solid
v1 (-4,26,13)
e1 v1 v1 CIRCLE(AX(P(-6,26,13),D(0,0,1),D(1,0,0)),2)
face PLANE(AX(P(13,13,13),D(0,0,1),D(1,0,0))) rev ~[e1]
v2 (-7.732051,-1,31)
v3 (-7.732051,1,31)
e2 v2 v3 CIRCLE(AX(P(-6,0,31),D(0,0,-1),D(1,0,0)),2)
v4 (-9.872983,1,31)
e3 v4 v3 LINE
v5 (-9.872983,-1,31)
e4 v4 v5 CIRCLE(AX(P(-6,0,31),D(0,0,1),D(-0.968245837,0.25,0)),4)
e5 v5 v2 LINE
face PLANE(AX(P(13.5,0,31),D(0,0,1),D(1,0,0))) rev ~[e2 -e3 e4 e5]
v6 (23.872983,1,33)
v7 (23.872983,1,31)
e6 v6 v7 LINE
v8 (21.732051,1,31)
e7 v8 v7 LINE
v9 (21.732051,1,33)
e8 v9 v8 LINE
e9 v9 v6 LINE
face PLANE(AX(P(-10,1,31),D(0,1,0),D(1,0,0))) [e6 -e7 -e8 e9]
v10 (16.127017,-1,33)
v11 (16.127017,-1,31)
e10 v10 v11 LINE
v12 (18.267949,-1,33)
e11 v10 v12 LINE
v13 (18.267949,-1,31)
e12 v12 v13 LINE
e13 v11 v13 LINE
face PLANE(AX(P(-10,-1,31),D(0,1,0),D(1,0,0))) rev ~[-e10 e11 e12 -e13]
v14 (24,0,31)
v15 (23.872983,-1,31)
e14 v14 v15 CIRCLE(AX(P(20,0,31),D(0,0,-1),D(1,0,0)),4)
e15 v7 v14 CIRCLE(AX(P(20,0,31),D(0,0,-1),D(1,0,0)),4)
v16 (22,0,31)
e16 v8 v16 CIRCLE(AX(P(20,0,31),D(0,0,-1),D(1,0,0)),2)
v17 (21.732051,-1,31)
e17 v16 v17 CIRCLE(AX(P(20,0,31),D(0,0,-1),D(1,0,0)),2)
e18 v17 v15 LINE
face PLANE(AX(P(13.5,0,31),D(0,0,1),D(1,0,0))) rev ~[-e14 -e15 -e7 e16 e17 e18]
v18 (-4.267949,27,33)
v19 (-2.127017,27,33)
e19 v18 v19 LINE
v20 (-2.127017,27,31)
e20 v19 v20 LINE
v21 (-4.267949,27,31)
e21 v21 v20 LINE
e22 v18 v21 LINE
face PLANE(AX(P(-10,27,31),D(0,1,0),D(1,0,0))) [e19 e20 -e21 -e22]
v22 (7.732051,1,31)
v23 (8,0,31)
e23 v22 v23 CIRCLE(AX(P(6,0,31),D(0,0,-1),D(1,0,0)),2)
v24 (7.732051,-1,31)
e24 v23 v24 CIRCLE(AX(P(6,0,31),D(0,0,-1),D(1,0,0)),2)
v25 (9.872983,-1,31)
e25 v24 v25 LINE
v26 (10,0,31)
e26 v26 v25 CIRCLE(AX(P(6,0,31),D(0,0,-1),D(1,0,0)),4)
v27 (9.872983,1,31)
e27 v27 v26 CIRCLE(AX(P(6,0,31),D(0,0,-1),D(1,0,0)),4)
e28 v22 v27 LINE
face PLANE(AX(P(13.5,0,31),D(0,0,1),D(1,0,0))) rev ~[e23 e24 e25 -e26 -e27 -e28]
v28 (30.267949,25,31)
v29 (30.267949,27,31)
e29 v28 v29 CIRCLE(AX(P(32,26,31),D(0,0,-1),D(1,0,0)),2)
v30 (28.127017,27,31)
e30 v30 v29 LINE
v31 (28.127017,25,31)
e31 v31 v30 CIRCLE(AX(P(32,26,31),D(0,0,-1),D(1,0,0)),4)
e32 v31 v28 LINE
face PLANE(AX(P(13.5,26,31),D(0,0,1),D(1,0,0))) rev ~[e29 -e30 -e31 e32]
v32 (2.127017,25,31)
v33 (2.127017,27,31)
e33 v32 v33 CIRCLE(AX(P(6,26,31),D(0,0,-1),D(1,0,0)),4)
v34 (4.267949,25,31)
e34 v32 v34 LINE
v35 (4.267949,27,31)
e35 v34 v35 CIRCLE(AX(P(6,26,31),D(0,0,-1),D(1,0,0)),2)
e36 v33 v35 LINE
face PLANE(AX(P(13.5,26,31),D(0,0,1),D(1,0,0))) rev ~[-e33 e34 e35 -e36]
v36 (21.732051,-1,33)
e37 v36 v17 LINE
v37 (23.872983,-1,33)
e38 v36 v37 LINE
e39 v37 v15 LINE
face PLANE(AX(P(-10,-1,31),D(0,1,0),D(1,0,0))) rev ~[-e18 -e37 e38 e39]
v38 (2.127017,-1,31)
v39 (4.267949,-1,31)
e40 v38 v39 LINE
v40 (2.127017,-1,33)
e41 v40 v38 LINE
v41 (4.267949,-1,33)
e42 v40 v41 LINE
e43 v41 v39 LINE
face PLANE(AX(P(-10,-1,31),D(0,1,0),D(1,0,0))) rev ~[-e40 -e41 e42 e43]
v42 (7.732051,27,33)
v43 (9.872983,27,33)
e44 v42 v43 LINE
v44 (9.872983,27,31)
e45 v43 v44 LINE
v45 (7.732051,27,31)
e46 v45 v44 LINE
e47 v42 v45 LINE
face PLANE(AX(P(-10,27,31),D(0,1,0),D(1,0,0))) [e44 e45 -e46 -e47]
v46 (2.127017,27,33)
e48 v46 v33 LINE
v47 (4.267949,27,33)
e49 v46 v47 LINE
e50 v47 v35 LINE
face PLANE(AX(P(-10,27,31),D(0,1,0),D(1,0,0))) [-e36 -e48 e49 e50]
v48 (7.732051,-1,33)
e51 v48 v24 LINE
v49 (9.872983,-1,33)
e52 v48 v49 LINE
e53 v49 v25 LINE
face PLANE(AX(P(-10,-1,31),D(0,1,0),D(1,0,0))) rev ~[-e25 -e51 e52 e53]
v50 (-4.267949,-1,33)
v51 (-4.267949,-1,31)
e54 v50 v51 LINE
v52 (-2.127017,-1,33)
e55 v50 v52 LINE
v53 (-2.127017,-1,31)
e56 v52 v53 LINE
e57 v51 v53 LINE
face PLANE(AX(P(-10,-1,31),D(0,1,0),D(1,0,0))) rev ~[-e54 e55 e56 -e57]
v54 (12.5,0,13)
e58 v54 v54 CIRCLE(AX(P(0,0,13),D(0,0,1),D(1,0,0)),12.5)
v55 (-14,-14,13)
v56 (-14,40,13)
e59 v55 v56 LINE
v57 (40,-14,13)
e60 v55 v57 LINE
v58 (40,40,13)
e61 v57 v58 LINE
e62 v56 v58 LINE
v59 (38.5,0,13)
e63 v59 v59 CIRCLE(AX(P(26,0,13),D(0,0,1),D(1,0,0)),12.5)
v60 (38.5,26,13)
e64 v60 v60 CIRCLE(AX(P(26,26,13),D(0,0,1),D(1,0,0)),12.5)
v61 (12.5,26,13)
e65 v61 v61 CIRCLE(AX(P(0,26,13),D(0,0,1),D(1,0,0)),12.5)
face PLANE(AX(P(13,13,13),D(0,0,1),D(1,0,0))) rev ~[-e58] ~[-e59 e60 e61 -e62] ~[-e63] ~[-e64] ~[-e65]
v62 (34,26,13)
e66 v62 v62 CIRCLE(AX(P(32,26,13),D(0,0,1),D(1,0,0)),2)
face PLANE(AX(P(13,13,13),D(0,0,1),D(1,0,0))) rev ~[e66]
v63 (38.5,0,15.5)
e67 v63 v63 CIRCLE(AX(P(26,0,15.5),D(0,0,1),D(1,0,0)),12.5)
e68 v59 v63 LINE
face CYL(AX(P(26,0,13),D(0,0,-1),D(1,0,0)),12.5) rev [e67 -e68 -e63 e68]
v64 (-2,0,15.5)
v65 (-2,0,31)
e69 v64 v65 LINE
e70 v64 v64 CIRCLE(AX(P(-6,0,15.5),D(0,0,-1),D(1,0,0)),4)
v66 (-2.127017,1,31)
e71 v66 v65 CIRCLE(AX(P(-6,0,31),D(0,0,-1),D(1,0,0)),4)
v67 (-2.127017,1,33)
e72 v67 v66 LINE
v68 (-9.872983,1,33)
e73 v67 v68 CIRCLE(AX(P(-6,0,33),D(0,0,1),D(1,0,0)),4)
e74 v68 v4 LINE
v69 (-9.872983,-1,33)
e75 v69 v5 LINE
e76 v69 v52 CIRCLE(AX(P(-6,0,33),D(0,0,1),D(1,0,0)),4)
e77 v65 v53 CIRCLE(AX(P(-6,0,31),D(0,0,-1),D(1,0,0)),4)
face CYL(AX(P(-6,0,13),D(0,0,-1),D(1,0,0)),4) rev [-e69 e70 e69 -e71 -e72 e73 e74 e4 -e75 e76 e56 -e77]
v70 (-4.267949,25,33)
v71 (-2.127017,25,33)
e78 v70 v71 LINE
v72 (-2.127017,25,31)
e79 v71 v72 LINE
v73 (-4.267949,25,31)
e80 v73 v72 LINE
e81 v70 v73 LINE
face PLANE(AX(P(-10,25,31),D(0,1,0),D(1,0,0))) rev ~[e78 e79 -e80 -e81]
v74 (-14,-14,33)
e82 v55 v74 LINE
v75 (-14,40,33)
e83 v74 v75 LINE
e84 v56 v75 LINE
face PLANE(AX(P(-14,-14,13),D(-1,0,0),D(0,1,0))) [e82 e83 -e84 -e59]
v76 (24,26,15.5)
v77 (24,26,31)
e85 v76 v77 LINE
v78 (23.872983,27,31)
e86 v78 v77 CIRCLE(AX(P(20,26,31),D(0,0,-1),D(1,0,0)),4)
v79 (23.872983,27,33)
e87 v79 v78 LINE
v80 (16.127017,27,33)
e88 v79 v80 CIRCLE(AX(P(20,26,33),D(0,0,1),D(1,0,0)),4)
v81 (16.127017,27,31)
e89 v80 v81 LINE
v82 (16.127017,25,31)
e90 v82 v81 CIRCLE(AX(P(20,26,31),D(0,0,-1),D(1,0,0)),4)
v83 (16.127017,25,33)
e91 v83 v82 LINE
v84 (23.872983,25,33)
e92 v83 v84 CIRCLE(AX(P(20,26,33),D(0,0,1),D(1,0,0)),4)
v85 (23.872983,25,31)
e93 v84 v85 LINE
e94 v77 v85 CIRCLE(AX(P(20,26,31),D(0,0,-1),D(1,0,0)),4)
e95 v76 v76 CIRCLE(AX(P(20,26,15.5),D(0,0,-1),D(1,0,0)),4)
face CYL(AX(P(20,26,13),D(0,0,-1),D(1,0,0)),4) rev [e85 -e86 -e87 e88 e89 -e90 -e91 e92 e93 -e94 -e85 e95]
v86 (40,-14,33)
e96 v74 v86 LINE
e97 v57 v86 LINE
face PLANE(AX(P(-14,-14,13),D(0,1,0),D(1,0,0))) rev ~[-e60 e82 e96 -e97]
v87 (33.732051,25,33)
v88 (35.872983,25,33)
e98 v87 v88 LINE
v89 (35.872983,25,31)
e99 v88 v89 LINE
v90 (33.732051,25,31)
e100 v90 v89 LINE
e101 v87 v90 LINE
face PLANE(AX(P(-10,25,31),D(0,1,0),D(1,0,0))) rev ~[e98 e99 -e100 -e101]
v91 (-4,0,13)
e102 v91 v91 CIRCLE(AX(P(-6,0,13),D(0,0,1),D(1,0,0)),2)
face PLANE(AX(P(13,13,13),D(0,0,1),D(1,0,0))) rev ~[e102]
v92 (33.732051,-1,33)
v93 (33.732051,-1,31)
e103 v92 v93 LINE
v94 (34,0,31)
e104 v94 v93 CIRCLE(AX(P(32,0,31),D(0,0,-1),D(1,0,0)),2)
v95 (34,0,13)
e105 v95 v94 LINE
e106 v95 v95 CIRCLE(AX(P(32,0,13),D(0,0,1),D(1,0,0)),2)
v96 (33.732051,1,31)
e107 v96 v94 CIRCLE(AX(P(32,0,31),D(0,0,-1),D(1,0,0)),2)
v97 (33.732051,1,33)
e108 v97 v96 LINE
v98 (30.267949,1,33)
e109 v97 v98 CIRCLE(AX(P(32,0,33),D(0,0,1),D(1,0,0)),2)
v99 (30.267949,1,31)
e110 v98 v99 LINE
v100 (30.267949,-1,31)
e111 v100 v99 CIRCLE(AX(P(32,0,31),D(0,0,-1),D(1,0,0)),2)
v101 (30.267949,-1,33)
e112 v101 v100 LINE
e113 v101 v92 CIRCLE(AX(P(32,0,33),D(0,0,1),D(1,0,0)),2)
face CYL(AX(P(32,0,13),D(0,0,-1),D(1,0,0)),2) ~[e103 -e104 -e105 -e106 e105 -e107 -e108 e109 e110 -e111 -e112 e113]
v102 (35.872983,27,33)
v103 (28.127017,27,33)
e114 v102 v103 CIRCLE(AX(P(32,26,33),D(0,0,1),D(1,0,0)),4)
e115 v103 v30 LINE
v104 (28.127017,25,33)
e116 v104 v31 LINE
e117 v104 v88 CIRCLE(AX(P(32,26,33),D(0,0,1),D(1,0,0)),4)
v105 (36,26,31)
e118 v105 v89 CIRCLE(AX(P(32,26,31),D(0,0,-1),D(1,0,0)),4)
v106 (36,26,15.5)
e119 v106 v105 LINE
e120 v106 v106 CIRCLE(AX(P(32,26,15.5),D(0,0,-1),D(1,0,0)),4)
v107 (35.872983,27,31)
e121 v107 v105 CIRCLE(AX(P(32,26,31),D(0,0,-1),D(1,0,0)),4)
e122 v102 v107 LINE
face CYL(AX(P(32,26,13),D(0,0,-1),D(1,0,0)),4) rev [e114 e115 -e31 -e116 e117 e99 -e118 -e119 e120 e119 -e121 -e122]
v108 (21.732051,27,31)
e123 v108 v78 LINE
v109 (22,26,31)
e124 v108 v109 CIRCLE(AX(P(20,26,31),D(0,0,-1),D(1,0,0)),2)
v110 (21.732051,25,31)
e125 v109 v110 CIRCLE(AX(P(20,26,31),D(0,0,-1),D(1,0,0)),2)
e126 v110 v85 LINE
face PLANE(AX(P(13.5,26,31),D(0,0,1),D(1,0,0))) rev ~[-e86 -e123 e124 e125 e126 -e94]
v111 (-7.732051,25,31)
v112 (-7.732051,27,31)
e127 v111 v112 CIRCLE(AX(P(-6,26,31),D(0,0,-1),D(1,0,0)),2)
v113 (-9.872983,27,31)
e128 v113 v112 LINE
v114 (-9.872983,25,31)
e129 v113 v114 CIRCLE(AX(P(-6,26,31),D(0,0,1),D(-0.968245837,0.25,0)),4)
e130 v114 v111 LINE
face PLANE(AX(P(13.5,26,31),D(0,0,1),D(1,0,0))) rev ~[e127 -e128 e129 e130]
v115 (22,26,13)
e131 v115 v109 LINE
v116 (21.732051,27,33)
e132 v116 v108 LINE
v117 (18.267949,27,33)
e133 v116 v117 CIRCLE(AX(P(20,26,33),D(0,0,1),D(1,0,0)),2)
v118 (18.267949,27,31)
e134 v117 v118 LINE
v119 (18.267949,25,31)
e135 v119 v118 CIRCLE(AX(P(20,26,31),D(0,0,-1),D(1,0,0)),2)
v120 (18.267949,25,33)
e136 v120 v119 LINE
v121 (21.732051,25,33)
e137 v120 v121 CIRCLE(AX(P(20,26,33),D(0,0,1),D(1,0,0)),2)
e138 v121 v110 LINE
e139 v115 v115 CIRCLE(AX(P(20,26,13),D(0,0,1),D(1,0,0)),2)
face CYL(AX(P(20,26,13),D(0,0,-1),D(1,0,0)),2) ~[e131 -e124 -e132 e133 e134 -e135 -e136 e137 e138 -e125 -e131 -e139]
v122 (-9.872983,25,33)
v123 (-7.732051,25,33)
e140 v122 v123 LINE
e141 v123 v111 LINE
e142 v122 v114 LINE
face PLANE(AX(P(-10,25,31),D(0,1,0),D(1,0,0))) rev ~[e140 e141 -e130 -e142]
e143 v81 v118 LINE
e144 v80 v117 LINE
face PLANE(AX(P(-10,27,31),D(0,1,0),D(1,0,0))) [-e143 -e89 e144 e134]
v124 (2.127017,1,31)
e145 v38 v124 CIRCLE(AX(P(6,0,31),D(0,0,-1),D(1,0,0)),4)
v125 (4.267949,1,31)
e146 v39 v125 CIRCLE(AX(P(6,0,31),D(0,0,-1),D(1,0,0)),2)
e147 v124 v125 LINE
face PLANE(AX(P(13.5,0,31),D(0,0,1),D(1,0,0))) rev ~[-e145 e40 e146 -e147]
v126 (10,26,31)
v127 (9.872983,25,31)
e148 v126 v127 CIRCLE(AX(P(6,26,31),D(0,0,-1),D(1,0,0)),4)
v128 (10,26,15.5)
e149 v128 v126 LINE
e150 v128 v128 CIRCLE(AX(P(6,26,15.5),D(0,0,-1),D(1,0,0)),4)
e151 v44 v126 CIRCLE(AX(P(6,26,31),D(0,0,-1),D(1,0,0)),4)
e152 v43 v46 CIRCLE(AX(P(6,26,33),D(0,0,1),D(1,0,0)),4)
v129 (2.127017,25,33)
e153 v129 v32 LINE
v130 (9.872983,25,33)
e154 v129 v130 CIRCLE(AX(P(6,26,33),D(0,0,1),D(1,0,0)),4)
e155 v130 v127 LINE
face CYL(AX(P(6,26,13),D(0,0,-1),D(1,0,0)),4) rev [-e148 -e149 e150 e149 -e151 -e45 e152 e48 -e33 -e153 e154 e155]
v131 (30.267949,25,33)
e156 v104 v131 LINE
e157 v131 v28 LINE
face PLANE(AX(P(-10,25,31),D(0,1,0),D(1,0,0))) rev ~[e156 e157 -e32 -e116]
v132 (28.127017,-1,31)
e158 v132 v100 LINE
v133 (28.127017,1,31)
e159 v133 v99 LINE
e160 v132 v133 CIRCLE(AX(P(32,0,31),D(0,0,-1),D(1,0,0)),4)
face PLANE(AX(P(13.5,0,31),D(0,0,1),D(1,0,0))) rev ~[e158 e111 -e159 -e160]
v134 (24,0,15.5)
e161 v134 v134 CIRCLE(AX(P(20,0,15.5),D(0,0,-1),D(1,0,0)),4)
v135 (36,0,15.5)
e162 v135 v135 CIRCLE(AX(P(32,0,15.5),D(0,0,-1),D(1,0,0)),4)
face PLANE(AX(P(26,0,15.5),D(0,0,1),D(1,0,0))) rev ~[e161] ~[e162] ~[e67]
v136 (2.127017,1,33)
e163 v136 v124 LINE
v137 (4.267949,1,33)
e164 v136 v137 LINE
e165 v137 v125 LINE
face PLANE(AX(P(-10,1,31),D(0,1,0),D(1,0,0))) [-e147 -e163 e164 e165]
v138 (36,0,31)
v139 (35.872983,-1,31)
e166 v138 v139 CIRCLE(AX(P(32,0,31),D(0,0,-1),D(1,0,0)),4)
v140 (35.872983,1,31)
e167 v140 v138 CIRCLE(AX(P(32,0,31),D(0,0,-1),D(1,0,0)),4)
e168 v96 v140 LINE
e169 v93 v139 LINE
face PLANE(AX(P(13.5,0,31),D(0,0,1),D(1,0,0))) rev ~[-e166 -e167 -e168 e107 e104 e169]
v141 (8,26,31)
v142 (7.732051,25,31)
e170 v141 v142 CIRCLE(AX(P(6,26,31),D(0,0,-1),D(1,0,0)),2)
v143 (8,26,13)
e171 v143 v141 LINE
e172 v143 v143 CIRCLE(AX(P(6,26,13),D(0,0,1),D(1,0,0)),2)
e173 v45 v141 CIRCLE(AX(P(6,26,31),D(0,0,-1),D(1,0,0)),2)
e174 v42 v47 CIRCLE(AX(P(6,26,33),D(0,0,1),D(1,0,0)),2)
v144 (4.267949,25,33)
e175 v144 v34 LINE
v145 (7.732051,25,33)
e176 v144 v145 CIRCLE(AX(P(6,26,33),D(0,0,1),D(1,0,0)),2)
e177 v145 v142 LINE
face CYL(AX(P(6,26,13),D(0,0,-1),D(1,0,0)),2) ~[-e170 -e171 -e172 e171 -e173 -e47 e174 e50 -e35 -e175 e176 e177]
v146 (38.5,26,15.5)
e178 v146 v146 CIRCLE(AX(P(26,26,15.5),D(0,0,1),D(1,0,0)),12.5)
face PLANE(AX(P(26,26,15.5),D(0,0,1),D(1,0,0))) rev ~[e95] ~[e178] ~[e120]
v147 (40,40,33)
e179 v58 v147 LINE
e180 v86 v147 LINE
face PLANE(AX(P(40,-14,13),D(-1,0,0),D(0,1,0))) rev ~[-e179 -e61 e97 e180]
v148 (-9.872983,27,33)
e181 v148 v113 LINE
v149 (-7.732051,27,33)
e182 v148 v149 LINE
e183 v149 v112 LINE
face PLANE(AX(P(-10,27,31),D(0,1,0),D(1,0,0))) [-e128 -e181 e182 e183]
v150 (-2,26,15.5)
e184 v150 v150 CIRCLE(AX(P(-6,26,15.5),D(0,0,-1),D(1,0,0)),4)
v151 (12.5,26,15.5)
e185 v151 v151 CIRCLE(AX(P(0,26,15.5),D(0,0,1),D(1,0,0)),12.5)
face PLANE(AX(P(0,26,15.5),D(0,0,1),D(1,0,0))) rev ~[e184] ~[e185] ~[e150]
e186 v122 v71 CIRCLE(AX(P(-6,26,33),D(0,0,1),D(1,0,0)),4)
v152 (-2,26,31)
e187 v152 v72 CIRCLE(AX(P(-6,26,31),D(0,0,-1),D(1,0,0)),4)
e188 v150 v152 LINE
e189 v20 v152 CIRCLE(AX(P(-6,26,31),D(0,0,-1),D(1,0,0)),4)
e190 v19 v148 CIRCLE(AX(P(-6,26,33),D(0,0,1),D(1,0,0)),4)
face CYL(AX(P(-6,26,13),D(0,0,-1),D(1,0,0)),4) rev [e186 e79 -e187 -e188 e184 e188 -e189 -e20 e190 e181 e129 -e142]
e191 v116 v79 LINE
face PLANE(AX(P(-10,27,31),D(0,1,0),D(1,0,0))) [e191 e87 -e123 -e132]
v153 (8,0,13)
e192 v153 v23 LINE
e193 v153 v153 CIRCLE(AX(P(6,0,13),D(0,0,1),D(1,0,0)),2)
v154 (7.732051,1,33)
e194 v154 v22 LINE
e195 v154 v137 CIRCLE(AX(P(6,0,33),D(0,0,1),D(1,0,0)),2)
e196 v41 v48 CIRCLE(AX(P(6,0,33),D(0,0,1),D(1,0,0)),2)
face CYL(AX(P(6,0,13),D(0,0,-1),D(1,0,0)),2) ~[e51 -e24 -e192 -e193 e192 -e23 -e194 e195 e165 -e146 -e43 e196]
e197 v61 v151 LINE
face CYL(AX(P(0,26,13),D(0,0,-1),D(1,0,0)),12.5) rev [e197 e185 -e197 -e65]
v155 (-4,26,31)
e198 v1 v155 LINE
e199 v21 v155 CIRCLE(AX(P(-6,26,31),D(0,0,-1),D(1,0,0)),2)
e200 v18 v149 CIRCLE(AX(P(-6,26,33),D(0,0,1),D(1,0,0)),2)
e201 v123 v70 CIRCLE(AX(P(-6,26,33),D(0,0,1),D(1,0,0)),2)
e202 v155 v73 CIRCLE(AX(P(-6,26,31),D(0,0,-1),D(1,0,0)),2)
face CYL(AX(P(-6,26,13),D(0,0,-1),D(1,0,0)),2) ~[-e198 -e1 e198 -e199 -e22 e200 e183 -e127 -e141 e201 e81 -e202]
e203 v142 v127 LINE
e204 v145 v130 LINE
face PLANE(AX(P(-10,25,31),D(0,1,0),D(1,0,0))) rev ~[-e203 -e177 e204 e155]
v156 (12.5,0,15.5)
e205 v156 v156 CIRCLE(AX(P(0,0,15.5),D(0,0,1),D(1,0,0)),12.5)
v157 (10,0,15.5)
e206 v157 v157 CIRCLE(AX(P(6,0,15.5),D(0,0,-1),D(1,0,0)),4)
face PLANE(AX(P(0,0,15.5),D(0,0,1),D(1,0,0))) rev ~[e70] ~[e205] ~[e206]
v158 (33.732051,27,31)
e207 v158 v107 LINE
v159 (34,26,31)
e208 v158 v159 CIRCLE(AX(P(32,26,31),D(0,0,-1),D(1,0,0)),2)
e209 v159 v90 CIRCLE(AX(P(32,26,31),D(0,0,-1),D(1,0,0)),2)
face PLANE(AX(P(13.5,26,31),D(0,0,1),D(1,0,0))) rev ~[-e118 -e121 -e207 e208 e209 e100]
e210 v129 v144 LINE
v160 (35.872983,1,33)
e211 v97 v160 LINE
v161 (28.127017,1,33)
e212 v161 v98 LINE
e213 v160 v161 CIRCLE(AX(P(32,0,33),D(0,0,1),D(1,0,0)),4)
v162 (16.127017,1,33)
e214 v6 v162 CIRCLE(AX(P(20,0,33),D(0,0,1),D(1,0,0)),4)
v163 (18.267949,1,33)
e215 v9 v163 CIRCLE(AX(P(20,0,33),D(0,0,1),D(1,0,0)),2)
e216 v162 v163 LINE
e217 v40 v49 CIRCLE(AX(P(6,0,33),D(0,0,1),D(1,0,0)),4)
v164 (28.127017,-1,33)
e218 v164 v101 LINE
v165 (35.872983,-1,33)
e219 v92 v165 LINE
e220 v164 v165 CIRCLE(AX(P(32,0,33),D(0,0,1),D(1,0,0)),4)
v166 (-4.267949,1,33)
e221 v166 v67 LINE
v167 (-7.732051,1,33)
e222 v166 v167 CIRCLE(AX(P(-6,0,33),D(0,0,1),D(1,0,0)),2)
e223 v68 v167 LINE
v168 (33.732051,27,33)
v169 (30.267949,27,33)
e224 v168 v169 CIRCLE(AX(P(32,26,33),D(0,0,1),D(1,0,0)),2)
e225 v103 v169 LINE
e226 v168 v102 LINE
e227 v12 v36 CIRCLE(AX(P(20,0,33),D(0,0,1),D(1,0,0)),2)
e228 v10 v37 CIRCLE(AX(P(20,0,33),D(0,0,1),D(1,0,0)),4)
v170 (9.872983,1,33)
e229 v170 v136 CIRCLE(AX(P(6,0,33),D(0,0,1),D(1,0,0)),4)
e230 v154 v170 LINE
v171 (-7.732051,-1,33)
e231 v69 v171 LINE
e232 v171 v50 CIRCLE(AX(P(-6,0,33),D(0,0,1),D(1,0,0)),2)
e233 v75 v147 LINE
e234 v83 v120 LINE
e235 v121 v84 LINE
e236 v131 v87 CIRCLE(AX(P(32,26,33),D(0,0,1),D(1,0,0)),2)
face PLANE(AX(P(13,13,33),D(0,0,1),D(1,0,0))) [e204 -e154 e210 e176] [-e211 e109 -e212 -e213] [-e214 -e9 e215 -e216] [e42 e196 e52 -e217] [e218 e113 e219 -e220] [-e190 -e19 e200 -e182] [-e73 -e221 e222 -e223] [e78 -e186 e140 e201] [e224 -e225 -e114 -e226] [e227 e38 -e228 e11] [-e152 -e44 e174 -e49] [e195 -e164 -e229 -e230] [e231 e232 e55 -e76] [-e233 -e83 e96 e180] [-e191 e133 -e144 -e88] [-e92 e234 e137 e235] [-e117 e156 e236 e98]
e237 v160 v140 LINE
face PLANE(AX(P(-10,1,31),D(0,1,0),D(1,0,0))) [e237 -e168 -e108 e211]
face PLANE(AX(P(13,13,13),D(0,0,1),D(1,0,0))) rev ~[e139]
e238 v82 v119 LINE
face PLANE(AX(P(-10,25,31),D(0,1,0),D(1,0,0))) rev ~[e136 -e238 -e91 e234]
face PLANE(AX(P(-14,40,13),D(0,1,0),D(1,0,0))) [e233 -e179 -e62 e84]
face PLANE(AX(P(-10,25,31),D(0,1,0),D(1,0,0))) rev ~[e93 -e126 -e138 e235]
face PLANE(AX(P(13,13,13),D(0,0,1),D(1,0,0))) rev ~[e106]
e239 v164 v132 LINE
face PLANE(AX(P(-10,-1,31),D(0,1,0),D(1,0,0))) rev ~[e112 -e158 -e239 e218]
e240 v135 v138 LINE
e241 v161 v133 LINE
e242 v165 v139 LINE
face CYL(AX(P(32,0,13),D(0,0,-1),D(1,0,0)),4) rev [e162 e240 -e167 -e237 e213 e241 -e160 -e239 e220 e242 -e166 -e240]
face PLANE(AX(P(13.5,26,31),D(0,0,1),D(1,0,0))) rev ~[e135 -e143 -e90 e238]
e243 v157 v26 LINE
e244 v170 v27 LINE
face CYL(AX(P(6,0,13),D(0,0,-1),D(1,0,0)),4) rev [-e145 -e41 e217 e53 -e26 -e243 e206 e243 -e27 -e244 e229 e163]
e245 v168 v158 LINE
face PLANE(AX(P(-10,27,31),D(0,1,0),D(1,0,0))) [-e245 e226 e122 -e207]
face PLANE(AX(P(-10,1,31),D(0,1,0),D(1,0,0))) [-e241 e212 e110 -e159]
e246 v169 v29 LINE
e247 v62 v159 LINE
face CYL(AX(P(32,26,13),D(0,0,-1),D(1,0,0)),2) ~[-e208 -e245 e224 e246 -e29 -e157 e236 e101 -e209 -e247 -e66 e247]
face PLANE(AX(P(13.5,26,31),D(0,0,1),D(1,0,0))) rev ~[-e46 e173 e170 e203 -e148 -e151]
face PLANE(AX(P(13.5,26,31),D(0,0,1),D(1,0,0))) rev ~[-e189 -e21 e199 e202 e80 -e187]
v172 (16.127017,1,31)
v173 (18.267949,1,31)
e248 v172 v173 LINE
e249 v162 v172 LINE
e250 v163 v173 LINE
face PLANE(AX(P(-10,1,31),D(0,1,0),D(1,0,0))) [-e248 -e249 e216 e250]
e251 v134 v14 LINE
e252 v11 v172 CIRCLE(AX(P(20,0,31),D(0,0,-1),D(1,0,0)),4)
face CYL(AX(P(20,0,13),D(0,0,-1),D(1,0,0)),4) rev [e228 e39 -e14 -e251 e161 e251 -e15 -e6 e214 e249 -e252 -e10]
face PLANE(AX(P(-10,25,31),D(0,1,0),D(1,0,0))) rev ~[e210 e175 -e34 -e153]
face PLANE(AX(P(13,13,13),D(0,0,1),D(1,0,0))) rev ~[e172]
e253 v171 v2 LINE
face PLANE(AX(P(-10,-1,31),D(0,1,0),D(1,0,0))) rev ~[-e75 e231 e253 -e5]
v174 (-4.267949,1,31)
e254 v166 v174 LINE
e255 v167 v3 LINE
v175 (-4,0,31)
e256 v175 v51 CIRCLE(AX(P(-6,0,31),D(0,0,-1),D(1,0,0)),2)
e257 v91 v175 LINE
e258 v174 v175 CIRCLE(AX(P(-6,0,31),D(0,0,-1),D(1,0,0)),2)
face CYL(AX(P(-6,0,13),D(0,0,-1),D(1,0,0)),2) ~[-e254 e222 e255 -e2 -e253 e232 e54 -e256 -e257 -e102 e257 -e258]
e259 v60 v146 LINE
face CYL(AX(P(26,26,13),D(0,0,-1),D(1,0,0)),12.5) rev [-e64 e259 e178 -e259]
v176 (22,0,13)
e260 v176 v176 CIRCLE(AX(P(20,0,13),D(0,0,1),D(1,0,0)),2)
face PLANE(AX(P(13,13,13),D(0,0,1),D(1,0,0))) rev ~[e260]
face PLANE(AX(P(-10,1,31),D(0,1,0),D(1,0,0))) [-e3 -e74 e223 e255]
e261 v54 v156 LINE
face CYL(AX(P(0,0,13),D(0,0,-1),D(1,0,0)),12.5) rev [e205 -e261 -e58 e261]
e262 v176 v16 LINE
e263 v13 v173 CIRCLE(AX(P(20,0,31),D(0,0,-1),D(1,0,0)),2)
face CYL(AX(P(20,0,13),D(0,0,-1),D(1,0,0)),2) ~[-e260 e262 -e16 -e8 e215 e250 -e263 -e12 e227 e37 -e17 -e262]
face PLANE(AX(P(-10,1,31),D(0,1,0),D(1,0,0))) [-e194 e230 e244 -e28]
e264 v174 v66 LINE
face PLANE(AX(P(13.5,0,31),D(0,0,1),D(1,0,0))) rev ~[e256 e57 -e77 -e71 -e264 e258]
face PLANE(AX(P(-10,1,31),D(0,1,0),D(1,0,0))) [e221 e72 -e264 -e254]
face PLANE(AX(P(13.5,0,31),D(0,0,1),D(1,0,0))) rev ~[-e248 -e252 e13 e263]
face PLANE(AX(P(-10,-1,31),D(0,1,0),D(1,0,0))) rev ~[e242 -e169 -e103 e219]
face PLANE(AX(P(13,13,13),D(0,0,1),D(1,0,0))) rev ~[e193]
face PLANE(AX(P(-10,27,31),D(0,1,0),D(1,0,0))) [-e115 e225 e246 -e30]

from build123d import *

# Parameters (mm, degrees)
BOX022_W          = 47
BOX022_H          = 2
BOX022_DEPTH      = 2
BOX023_W          = 47
BOX023_H          = 2
BOX023_DEPTH      = 2
CYLINDER026_R     = 2
CYLINDER026_DEPTH = 20
CYLINDER025_R     = 2
CYLINDER025_DEPTH = 20
CYLINDER027_R     = 12.5
CYLINDER027_DEPTH = 2.5
CYLINDER023_R     = 4
CYLINDER023_DEPTH = 20
CYLINDER024_R     = 4
CYLINDER024_DEPTH = 20
BOX021_W          = 54
BOX021_H          = 54
BOX021_DEPTH      = 20


with BuildPart() as cube022:
    # Box022 → Box022 (new body)
    with BuildSketch(Plane(origin=(-10, -1, 31), x_dir=(1, 0, 0), z_dir=(0, 0, 1))):
        with Locations((23.5, 1)):
            Rectangle(BOX022_W, BOX022_H)
    extrude(amount=BOX022_DEPTH)


with BuildPart() as cube023:
    # Box023 → Box023 (new body)
    with BuildSketch(Plane(origin=(-10, 25, 31), x_dir=(1, 0, 0), z_dir=(0, 0, 1))):
        with Locations((23.5, 1)):
            Rectangle(BOX023_W, BOX023_H)
    extrude(amount=BOX023_DEPTH)


with BuildPart() as zylinder026:
    # Cylinder026 → Cylinder026 (new body)
    with BuildSketch(Plane(origin=(6, 0, 13), x_dir=(1, 0, 0), z_dir=(0, 0, 1))):
        Circle(CYLINDER026_R)
    extrude(amount=CYLINDER026_DEPTH)


with BuildPart() as fusion013:
    # Cylinder025 → Cylinder025 (new body)
    with BuildSketch(Plane(origin=(-6, 0, 13), x_dir=(1, 0, 0), z_dir=(0, 0, 1))):
        Circle(CYLINDER025_R)
    extrude(amount=CYLINDER025_DEPTH)

    # Fusion013: union Zylinder026
    add(zylinder026.part)


with BuildPart() as zylinder027:
    # Cylinder027 → Cylinder027 (new body)
    with BuildSketch(Plane.XY.offset(13)):
        Circle(CYLINDER027_R)
    extrude(amount=CYLINDER027_DEPTH)


with BuildPart() as zylinder023:
    # Cylinder023 → Cylinder023 (new body)
    with BuildSketch(Plane(origin=(6, 0, 13), x_dir=(1, 0, 0), z_dir=(0, 0, 1))):
        Circle(CYLINDER023_R)
    extrude(amount=CYLINDER023_DEPTH)


with BuildPart() as fusion014:
    # Cylinder024 → Cylinder024 (new body)
    with BuildSketch(Plane(origin=(-6, 0, 13), x_dir=(1, 0, 0), z_dir=(0, 0, 1))):
        Circle(CYLINDER024_R)
    extrude(amount=CYLINDER024_DEPTH)

    # Fusion012: union Zylinder023
    add(zylinder023.part)

    # Fusion014: union Zylinder027
    add(zylinder027.part)


with BuildPart() as cut016:
    # Cut016 base: copy of Fusion014
    add(fusion014.part)

    # Cut016: cut Fusion013
    add(fusion013.part, mode=Mode.SUBTRACT)


with BuildPart() as cut017:
    # Cut017 base: copy of Fusion014
    add(fusion014.part)

    # Cut017: cut Fusion013
    add(fusion013.part, mode=Mode.SUBTRACT)


with BuildPart() as cut017_1:
    # Cut017 placement: moved
    add(cut017.part.moved(Location((26, 0, 0))))


with BuildPart() as cut015:
    # Cut015 base: copy of Fusion014
    add(fusion014.part)

    # Cut015: cut Fusion013
    add(fusion013.part, mode=Mode.SUBTRACT)


with BuildPart() as cut015_1:
    # Cut015 placement: moved
    add(cut015.part.moved(Location((26, 26, 0))))


with BuildPart() as fusion015:
    # Cut014 base: copy of Fusion014
    add(fusion014.part)

    # Cut014: cut Fusion013
    add(fusion013.part, mode=Mode.SUBTRACT)


with BuildPart() as fusion015_1:
    # Cut014 placement: moved
    add(fusion015.part.moved(Location((0, 26, 0))))

    # Fusion015: union Cut016, Cut017, Cut015
    add(cut016.part)
    add(cut017_1.part)
    add(cut015_1.part)


with BuildPart() as dichtungen:
    # Box021 → Box021 (new body)
    with BuildSketch(Plane(origin=(-14, -14, 13), x_dir=(1, 0, 0), z_dir=(0, 0, 1))):
        with Locations((27, 27)):
            Rectangle(BOX021_W, BOX021_H)
    extrude(amount=BOX021_DEPTH)

    # Cut018: cut Fusion015
    add(fusion015_1.part, mode=Mode.SUBTRACT)

    # Fusion016: union Cube022, Cube023
    add(cube022.part)
    add(cube023.part)


solid = dichtungen.part
